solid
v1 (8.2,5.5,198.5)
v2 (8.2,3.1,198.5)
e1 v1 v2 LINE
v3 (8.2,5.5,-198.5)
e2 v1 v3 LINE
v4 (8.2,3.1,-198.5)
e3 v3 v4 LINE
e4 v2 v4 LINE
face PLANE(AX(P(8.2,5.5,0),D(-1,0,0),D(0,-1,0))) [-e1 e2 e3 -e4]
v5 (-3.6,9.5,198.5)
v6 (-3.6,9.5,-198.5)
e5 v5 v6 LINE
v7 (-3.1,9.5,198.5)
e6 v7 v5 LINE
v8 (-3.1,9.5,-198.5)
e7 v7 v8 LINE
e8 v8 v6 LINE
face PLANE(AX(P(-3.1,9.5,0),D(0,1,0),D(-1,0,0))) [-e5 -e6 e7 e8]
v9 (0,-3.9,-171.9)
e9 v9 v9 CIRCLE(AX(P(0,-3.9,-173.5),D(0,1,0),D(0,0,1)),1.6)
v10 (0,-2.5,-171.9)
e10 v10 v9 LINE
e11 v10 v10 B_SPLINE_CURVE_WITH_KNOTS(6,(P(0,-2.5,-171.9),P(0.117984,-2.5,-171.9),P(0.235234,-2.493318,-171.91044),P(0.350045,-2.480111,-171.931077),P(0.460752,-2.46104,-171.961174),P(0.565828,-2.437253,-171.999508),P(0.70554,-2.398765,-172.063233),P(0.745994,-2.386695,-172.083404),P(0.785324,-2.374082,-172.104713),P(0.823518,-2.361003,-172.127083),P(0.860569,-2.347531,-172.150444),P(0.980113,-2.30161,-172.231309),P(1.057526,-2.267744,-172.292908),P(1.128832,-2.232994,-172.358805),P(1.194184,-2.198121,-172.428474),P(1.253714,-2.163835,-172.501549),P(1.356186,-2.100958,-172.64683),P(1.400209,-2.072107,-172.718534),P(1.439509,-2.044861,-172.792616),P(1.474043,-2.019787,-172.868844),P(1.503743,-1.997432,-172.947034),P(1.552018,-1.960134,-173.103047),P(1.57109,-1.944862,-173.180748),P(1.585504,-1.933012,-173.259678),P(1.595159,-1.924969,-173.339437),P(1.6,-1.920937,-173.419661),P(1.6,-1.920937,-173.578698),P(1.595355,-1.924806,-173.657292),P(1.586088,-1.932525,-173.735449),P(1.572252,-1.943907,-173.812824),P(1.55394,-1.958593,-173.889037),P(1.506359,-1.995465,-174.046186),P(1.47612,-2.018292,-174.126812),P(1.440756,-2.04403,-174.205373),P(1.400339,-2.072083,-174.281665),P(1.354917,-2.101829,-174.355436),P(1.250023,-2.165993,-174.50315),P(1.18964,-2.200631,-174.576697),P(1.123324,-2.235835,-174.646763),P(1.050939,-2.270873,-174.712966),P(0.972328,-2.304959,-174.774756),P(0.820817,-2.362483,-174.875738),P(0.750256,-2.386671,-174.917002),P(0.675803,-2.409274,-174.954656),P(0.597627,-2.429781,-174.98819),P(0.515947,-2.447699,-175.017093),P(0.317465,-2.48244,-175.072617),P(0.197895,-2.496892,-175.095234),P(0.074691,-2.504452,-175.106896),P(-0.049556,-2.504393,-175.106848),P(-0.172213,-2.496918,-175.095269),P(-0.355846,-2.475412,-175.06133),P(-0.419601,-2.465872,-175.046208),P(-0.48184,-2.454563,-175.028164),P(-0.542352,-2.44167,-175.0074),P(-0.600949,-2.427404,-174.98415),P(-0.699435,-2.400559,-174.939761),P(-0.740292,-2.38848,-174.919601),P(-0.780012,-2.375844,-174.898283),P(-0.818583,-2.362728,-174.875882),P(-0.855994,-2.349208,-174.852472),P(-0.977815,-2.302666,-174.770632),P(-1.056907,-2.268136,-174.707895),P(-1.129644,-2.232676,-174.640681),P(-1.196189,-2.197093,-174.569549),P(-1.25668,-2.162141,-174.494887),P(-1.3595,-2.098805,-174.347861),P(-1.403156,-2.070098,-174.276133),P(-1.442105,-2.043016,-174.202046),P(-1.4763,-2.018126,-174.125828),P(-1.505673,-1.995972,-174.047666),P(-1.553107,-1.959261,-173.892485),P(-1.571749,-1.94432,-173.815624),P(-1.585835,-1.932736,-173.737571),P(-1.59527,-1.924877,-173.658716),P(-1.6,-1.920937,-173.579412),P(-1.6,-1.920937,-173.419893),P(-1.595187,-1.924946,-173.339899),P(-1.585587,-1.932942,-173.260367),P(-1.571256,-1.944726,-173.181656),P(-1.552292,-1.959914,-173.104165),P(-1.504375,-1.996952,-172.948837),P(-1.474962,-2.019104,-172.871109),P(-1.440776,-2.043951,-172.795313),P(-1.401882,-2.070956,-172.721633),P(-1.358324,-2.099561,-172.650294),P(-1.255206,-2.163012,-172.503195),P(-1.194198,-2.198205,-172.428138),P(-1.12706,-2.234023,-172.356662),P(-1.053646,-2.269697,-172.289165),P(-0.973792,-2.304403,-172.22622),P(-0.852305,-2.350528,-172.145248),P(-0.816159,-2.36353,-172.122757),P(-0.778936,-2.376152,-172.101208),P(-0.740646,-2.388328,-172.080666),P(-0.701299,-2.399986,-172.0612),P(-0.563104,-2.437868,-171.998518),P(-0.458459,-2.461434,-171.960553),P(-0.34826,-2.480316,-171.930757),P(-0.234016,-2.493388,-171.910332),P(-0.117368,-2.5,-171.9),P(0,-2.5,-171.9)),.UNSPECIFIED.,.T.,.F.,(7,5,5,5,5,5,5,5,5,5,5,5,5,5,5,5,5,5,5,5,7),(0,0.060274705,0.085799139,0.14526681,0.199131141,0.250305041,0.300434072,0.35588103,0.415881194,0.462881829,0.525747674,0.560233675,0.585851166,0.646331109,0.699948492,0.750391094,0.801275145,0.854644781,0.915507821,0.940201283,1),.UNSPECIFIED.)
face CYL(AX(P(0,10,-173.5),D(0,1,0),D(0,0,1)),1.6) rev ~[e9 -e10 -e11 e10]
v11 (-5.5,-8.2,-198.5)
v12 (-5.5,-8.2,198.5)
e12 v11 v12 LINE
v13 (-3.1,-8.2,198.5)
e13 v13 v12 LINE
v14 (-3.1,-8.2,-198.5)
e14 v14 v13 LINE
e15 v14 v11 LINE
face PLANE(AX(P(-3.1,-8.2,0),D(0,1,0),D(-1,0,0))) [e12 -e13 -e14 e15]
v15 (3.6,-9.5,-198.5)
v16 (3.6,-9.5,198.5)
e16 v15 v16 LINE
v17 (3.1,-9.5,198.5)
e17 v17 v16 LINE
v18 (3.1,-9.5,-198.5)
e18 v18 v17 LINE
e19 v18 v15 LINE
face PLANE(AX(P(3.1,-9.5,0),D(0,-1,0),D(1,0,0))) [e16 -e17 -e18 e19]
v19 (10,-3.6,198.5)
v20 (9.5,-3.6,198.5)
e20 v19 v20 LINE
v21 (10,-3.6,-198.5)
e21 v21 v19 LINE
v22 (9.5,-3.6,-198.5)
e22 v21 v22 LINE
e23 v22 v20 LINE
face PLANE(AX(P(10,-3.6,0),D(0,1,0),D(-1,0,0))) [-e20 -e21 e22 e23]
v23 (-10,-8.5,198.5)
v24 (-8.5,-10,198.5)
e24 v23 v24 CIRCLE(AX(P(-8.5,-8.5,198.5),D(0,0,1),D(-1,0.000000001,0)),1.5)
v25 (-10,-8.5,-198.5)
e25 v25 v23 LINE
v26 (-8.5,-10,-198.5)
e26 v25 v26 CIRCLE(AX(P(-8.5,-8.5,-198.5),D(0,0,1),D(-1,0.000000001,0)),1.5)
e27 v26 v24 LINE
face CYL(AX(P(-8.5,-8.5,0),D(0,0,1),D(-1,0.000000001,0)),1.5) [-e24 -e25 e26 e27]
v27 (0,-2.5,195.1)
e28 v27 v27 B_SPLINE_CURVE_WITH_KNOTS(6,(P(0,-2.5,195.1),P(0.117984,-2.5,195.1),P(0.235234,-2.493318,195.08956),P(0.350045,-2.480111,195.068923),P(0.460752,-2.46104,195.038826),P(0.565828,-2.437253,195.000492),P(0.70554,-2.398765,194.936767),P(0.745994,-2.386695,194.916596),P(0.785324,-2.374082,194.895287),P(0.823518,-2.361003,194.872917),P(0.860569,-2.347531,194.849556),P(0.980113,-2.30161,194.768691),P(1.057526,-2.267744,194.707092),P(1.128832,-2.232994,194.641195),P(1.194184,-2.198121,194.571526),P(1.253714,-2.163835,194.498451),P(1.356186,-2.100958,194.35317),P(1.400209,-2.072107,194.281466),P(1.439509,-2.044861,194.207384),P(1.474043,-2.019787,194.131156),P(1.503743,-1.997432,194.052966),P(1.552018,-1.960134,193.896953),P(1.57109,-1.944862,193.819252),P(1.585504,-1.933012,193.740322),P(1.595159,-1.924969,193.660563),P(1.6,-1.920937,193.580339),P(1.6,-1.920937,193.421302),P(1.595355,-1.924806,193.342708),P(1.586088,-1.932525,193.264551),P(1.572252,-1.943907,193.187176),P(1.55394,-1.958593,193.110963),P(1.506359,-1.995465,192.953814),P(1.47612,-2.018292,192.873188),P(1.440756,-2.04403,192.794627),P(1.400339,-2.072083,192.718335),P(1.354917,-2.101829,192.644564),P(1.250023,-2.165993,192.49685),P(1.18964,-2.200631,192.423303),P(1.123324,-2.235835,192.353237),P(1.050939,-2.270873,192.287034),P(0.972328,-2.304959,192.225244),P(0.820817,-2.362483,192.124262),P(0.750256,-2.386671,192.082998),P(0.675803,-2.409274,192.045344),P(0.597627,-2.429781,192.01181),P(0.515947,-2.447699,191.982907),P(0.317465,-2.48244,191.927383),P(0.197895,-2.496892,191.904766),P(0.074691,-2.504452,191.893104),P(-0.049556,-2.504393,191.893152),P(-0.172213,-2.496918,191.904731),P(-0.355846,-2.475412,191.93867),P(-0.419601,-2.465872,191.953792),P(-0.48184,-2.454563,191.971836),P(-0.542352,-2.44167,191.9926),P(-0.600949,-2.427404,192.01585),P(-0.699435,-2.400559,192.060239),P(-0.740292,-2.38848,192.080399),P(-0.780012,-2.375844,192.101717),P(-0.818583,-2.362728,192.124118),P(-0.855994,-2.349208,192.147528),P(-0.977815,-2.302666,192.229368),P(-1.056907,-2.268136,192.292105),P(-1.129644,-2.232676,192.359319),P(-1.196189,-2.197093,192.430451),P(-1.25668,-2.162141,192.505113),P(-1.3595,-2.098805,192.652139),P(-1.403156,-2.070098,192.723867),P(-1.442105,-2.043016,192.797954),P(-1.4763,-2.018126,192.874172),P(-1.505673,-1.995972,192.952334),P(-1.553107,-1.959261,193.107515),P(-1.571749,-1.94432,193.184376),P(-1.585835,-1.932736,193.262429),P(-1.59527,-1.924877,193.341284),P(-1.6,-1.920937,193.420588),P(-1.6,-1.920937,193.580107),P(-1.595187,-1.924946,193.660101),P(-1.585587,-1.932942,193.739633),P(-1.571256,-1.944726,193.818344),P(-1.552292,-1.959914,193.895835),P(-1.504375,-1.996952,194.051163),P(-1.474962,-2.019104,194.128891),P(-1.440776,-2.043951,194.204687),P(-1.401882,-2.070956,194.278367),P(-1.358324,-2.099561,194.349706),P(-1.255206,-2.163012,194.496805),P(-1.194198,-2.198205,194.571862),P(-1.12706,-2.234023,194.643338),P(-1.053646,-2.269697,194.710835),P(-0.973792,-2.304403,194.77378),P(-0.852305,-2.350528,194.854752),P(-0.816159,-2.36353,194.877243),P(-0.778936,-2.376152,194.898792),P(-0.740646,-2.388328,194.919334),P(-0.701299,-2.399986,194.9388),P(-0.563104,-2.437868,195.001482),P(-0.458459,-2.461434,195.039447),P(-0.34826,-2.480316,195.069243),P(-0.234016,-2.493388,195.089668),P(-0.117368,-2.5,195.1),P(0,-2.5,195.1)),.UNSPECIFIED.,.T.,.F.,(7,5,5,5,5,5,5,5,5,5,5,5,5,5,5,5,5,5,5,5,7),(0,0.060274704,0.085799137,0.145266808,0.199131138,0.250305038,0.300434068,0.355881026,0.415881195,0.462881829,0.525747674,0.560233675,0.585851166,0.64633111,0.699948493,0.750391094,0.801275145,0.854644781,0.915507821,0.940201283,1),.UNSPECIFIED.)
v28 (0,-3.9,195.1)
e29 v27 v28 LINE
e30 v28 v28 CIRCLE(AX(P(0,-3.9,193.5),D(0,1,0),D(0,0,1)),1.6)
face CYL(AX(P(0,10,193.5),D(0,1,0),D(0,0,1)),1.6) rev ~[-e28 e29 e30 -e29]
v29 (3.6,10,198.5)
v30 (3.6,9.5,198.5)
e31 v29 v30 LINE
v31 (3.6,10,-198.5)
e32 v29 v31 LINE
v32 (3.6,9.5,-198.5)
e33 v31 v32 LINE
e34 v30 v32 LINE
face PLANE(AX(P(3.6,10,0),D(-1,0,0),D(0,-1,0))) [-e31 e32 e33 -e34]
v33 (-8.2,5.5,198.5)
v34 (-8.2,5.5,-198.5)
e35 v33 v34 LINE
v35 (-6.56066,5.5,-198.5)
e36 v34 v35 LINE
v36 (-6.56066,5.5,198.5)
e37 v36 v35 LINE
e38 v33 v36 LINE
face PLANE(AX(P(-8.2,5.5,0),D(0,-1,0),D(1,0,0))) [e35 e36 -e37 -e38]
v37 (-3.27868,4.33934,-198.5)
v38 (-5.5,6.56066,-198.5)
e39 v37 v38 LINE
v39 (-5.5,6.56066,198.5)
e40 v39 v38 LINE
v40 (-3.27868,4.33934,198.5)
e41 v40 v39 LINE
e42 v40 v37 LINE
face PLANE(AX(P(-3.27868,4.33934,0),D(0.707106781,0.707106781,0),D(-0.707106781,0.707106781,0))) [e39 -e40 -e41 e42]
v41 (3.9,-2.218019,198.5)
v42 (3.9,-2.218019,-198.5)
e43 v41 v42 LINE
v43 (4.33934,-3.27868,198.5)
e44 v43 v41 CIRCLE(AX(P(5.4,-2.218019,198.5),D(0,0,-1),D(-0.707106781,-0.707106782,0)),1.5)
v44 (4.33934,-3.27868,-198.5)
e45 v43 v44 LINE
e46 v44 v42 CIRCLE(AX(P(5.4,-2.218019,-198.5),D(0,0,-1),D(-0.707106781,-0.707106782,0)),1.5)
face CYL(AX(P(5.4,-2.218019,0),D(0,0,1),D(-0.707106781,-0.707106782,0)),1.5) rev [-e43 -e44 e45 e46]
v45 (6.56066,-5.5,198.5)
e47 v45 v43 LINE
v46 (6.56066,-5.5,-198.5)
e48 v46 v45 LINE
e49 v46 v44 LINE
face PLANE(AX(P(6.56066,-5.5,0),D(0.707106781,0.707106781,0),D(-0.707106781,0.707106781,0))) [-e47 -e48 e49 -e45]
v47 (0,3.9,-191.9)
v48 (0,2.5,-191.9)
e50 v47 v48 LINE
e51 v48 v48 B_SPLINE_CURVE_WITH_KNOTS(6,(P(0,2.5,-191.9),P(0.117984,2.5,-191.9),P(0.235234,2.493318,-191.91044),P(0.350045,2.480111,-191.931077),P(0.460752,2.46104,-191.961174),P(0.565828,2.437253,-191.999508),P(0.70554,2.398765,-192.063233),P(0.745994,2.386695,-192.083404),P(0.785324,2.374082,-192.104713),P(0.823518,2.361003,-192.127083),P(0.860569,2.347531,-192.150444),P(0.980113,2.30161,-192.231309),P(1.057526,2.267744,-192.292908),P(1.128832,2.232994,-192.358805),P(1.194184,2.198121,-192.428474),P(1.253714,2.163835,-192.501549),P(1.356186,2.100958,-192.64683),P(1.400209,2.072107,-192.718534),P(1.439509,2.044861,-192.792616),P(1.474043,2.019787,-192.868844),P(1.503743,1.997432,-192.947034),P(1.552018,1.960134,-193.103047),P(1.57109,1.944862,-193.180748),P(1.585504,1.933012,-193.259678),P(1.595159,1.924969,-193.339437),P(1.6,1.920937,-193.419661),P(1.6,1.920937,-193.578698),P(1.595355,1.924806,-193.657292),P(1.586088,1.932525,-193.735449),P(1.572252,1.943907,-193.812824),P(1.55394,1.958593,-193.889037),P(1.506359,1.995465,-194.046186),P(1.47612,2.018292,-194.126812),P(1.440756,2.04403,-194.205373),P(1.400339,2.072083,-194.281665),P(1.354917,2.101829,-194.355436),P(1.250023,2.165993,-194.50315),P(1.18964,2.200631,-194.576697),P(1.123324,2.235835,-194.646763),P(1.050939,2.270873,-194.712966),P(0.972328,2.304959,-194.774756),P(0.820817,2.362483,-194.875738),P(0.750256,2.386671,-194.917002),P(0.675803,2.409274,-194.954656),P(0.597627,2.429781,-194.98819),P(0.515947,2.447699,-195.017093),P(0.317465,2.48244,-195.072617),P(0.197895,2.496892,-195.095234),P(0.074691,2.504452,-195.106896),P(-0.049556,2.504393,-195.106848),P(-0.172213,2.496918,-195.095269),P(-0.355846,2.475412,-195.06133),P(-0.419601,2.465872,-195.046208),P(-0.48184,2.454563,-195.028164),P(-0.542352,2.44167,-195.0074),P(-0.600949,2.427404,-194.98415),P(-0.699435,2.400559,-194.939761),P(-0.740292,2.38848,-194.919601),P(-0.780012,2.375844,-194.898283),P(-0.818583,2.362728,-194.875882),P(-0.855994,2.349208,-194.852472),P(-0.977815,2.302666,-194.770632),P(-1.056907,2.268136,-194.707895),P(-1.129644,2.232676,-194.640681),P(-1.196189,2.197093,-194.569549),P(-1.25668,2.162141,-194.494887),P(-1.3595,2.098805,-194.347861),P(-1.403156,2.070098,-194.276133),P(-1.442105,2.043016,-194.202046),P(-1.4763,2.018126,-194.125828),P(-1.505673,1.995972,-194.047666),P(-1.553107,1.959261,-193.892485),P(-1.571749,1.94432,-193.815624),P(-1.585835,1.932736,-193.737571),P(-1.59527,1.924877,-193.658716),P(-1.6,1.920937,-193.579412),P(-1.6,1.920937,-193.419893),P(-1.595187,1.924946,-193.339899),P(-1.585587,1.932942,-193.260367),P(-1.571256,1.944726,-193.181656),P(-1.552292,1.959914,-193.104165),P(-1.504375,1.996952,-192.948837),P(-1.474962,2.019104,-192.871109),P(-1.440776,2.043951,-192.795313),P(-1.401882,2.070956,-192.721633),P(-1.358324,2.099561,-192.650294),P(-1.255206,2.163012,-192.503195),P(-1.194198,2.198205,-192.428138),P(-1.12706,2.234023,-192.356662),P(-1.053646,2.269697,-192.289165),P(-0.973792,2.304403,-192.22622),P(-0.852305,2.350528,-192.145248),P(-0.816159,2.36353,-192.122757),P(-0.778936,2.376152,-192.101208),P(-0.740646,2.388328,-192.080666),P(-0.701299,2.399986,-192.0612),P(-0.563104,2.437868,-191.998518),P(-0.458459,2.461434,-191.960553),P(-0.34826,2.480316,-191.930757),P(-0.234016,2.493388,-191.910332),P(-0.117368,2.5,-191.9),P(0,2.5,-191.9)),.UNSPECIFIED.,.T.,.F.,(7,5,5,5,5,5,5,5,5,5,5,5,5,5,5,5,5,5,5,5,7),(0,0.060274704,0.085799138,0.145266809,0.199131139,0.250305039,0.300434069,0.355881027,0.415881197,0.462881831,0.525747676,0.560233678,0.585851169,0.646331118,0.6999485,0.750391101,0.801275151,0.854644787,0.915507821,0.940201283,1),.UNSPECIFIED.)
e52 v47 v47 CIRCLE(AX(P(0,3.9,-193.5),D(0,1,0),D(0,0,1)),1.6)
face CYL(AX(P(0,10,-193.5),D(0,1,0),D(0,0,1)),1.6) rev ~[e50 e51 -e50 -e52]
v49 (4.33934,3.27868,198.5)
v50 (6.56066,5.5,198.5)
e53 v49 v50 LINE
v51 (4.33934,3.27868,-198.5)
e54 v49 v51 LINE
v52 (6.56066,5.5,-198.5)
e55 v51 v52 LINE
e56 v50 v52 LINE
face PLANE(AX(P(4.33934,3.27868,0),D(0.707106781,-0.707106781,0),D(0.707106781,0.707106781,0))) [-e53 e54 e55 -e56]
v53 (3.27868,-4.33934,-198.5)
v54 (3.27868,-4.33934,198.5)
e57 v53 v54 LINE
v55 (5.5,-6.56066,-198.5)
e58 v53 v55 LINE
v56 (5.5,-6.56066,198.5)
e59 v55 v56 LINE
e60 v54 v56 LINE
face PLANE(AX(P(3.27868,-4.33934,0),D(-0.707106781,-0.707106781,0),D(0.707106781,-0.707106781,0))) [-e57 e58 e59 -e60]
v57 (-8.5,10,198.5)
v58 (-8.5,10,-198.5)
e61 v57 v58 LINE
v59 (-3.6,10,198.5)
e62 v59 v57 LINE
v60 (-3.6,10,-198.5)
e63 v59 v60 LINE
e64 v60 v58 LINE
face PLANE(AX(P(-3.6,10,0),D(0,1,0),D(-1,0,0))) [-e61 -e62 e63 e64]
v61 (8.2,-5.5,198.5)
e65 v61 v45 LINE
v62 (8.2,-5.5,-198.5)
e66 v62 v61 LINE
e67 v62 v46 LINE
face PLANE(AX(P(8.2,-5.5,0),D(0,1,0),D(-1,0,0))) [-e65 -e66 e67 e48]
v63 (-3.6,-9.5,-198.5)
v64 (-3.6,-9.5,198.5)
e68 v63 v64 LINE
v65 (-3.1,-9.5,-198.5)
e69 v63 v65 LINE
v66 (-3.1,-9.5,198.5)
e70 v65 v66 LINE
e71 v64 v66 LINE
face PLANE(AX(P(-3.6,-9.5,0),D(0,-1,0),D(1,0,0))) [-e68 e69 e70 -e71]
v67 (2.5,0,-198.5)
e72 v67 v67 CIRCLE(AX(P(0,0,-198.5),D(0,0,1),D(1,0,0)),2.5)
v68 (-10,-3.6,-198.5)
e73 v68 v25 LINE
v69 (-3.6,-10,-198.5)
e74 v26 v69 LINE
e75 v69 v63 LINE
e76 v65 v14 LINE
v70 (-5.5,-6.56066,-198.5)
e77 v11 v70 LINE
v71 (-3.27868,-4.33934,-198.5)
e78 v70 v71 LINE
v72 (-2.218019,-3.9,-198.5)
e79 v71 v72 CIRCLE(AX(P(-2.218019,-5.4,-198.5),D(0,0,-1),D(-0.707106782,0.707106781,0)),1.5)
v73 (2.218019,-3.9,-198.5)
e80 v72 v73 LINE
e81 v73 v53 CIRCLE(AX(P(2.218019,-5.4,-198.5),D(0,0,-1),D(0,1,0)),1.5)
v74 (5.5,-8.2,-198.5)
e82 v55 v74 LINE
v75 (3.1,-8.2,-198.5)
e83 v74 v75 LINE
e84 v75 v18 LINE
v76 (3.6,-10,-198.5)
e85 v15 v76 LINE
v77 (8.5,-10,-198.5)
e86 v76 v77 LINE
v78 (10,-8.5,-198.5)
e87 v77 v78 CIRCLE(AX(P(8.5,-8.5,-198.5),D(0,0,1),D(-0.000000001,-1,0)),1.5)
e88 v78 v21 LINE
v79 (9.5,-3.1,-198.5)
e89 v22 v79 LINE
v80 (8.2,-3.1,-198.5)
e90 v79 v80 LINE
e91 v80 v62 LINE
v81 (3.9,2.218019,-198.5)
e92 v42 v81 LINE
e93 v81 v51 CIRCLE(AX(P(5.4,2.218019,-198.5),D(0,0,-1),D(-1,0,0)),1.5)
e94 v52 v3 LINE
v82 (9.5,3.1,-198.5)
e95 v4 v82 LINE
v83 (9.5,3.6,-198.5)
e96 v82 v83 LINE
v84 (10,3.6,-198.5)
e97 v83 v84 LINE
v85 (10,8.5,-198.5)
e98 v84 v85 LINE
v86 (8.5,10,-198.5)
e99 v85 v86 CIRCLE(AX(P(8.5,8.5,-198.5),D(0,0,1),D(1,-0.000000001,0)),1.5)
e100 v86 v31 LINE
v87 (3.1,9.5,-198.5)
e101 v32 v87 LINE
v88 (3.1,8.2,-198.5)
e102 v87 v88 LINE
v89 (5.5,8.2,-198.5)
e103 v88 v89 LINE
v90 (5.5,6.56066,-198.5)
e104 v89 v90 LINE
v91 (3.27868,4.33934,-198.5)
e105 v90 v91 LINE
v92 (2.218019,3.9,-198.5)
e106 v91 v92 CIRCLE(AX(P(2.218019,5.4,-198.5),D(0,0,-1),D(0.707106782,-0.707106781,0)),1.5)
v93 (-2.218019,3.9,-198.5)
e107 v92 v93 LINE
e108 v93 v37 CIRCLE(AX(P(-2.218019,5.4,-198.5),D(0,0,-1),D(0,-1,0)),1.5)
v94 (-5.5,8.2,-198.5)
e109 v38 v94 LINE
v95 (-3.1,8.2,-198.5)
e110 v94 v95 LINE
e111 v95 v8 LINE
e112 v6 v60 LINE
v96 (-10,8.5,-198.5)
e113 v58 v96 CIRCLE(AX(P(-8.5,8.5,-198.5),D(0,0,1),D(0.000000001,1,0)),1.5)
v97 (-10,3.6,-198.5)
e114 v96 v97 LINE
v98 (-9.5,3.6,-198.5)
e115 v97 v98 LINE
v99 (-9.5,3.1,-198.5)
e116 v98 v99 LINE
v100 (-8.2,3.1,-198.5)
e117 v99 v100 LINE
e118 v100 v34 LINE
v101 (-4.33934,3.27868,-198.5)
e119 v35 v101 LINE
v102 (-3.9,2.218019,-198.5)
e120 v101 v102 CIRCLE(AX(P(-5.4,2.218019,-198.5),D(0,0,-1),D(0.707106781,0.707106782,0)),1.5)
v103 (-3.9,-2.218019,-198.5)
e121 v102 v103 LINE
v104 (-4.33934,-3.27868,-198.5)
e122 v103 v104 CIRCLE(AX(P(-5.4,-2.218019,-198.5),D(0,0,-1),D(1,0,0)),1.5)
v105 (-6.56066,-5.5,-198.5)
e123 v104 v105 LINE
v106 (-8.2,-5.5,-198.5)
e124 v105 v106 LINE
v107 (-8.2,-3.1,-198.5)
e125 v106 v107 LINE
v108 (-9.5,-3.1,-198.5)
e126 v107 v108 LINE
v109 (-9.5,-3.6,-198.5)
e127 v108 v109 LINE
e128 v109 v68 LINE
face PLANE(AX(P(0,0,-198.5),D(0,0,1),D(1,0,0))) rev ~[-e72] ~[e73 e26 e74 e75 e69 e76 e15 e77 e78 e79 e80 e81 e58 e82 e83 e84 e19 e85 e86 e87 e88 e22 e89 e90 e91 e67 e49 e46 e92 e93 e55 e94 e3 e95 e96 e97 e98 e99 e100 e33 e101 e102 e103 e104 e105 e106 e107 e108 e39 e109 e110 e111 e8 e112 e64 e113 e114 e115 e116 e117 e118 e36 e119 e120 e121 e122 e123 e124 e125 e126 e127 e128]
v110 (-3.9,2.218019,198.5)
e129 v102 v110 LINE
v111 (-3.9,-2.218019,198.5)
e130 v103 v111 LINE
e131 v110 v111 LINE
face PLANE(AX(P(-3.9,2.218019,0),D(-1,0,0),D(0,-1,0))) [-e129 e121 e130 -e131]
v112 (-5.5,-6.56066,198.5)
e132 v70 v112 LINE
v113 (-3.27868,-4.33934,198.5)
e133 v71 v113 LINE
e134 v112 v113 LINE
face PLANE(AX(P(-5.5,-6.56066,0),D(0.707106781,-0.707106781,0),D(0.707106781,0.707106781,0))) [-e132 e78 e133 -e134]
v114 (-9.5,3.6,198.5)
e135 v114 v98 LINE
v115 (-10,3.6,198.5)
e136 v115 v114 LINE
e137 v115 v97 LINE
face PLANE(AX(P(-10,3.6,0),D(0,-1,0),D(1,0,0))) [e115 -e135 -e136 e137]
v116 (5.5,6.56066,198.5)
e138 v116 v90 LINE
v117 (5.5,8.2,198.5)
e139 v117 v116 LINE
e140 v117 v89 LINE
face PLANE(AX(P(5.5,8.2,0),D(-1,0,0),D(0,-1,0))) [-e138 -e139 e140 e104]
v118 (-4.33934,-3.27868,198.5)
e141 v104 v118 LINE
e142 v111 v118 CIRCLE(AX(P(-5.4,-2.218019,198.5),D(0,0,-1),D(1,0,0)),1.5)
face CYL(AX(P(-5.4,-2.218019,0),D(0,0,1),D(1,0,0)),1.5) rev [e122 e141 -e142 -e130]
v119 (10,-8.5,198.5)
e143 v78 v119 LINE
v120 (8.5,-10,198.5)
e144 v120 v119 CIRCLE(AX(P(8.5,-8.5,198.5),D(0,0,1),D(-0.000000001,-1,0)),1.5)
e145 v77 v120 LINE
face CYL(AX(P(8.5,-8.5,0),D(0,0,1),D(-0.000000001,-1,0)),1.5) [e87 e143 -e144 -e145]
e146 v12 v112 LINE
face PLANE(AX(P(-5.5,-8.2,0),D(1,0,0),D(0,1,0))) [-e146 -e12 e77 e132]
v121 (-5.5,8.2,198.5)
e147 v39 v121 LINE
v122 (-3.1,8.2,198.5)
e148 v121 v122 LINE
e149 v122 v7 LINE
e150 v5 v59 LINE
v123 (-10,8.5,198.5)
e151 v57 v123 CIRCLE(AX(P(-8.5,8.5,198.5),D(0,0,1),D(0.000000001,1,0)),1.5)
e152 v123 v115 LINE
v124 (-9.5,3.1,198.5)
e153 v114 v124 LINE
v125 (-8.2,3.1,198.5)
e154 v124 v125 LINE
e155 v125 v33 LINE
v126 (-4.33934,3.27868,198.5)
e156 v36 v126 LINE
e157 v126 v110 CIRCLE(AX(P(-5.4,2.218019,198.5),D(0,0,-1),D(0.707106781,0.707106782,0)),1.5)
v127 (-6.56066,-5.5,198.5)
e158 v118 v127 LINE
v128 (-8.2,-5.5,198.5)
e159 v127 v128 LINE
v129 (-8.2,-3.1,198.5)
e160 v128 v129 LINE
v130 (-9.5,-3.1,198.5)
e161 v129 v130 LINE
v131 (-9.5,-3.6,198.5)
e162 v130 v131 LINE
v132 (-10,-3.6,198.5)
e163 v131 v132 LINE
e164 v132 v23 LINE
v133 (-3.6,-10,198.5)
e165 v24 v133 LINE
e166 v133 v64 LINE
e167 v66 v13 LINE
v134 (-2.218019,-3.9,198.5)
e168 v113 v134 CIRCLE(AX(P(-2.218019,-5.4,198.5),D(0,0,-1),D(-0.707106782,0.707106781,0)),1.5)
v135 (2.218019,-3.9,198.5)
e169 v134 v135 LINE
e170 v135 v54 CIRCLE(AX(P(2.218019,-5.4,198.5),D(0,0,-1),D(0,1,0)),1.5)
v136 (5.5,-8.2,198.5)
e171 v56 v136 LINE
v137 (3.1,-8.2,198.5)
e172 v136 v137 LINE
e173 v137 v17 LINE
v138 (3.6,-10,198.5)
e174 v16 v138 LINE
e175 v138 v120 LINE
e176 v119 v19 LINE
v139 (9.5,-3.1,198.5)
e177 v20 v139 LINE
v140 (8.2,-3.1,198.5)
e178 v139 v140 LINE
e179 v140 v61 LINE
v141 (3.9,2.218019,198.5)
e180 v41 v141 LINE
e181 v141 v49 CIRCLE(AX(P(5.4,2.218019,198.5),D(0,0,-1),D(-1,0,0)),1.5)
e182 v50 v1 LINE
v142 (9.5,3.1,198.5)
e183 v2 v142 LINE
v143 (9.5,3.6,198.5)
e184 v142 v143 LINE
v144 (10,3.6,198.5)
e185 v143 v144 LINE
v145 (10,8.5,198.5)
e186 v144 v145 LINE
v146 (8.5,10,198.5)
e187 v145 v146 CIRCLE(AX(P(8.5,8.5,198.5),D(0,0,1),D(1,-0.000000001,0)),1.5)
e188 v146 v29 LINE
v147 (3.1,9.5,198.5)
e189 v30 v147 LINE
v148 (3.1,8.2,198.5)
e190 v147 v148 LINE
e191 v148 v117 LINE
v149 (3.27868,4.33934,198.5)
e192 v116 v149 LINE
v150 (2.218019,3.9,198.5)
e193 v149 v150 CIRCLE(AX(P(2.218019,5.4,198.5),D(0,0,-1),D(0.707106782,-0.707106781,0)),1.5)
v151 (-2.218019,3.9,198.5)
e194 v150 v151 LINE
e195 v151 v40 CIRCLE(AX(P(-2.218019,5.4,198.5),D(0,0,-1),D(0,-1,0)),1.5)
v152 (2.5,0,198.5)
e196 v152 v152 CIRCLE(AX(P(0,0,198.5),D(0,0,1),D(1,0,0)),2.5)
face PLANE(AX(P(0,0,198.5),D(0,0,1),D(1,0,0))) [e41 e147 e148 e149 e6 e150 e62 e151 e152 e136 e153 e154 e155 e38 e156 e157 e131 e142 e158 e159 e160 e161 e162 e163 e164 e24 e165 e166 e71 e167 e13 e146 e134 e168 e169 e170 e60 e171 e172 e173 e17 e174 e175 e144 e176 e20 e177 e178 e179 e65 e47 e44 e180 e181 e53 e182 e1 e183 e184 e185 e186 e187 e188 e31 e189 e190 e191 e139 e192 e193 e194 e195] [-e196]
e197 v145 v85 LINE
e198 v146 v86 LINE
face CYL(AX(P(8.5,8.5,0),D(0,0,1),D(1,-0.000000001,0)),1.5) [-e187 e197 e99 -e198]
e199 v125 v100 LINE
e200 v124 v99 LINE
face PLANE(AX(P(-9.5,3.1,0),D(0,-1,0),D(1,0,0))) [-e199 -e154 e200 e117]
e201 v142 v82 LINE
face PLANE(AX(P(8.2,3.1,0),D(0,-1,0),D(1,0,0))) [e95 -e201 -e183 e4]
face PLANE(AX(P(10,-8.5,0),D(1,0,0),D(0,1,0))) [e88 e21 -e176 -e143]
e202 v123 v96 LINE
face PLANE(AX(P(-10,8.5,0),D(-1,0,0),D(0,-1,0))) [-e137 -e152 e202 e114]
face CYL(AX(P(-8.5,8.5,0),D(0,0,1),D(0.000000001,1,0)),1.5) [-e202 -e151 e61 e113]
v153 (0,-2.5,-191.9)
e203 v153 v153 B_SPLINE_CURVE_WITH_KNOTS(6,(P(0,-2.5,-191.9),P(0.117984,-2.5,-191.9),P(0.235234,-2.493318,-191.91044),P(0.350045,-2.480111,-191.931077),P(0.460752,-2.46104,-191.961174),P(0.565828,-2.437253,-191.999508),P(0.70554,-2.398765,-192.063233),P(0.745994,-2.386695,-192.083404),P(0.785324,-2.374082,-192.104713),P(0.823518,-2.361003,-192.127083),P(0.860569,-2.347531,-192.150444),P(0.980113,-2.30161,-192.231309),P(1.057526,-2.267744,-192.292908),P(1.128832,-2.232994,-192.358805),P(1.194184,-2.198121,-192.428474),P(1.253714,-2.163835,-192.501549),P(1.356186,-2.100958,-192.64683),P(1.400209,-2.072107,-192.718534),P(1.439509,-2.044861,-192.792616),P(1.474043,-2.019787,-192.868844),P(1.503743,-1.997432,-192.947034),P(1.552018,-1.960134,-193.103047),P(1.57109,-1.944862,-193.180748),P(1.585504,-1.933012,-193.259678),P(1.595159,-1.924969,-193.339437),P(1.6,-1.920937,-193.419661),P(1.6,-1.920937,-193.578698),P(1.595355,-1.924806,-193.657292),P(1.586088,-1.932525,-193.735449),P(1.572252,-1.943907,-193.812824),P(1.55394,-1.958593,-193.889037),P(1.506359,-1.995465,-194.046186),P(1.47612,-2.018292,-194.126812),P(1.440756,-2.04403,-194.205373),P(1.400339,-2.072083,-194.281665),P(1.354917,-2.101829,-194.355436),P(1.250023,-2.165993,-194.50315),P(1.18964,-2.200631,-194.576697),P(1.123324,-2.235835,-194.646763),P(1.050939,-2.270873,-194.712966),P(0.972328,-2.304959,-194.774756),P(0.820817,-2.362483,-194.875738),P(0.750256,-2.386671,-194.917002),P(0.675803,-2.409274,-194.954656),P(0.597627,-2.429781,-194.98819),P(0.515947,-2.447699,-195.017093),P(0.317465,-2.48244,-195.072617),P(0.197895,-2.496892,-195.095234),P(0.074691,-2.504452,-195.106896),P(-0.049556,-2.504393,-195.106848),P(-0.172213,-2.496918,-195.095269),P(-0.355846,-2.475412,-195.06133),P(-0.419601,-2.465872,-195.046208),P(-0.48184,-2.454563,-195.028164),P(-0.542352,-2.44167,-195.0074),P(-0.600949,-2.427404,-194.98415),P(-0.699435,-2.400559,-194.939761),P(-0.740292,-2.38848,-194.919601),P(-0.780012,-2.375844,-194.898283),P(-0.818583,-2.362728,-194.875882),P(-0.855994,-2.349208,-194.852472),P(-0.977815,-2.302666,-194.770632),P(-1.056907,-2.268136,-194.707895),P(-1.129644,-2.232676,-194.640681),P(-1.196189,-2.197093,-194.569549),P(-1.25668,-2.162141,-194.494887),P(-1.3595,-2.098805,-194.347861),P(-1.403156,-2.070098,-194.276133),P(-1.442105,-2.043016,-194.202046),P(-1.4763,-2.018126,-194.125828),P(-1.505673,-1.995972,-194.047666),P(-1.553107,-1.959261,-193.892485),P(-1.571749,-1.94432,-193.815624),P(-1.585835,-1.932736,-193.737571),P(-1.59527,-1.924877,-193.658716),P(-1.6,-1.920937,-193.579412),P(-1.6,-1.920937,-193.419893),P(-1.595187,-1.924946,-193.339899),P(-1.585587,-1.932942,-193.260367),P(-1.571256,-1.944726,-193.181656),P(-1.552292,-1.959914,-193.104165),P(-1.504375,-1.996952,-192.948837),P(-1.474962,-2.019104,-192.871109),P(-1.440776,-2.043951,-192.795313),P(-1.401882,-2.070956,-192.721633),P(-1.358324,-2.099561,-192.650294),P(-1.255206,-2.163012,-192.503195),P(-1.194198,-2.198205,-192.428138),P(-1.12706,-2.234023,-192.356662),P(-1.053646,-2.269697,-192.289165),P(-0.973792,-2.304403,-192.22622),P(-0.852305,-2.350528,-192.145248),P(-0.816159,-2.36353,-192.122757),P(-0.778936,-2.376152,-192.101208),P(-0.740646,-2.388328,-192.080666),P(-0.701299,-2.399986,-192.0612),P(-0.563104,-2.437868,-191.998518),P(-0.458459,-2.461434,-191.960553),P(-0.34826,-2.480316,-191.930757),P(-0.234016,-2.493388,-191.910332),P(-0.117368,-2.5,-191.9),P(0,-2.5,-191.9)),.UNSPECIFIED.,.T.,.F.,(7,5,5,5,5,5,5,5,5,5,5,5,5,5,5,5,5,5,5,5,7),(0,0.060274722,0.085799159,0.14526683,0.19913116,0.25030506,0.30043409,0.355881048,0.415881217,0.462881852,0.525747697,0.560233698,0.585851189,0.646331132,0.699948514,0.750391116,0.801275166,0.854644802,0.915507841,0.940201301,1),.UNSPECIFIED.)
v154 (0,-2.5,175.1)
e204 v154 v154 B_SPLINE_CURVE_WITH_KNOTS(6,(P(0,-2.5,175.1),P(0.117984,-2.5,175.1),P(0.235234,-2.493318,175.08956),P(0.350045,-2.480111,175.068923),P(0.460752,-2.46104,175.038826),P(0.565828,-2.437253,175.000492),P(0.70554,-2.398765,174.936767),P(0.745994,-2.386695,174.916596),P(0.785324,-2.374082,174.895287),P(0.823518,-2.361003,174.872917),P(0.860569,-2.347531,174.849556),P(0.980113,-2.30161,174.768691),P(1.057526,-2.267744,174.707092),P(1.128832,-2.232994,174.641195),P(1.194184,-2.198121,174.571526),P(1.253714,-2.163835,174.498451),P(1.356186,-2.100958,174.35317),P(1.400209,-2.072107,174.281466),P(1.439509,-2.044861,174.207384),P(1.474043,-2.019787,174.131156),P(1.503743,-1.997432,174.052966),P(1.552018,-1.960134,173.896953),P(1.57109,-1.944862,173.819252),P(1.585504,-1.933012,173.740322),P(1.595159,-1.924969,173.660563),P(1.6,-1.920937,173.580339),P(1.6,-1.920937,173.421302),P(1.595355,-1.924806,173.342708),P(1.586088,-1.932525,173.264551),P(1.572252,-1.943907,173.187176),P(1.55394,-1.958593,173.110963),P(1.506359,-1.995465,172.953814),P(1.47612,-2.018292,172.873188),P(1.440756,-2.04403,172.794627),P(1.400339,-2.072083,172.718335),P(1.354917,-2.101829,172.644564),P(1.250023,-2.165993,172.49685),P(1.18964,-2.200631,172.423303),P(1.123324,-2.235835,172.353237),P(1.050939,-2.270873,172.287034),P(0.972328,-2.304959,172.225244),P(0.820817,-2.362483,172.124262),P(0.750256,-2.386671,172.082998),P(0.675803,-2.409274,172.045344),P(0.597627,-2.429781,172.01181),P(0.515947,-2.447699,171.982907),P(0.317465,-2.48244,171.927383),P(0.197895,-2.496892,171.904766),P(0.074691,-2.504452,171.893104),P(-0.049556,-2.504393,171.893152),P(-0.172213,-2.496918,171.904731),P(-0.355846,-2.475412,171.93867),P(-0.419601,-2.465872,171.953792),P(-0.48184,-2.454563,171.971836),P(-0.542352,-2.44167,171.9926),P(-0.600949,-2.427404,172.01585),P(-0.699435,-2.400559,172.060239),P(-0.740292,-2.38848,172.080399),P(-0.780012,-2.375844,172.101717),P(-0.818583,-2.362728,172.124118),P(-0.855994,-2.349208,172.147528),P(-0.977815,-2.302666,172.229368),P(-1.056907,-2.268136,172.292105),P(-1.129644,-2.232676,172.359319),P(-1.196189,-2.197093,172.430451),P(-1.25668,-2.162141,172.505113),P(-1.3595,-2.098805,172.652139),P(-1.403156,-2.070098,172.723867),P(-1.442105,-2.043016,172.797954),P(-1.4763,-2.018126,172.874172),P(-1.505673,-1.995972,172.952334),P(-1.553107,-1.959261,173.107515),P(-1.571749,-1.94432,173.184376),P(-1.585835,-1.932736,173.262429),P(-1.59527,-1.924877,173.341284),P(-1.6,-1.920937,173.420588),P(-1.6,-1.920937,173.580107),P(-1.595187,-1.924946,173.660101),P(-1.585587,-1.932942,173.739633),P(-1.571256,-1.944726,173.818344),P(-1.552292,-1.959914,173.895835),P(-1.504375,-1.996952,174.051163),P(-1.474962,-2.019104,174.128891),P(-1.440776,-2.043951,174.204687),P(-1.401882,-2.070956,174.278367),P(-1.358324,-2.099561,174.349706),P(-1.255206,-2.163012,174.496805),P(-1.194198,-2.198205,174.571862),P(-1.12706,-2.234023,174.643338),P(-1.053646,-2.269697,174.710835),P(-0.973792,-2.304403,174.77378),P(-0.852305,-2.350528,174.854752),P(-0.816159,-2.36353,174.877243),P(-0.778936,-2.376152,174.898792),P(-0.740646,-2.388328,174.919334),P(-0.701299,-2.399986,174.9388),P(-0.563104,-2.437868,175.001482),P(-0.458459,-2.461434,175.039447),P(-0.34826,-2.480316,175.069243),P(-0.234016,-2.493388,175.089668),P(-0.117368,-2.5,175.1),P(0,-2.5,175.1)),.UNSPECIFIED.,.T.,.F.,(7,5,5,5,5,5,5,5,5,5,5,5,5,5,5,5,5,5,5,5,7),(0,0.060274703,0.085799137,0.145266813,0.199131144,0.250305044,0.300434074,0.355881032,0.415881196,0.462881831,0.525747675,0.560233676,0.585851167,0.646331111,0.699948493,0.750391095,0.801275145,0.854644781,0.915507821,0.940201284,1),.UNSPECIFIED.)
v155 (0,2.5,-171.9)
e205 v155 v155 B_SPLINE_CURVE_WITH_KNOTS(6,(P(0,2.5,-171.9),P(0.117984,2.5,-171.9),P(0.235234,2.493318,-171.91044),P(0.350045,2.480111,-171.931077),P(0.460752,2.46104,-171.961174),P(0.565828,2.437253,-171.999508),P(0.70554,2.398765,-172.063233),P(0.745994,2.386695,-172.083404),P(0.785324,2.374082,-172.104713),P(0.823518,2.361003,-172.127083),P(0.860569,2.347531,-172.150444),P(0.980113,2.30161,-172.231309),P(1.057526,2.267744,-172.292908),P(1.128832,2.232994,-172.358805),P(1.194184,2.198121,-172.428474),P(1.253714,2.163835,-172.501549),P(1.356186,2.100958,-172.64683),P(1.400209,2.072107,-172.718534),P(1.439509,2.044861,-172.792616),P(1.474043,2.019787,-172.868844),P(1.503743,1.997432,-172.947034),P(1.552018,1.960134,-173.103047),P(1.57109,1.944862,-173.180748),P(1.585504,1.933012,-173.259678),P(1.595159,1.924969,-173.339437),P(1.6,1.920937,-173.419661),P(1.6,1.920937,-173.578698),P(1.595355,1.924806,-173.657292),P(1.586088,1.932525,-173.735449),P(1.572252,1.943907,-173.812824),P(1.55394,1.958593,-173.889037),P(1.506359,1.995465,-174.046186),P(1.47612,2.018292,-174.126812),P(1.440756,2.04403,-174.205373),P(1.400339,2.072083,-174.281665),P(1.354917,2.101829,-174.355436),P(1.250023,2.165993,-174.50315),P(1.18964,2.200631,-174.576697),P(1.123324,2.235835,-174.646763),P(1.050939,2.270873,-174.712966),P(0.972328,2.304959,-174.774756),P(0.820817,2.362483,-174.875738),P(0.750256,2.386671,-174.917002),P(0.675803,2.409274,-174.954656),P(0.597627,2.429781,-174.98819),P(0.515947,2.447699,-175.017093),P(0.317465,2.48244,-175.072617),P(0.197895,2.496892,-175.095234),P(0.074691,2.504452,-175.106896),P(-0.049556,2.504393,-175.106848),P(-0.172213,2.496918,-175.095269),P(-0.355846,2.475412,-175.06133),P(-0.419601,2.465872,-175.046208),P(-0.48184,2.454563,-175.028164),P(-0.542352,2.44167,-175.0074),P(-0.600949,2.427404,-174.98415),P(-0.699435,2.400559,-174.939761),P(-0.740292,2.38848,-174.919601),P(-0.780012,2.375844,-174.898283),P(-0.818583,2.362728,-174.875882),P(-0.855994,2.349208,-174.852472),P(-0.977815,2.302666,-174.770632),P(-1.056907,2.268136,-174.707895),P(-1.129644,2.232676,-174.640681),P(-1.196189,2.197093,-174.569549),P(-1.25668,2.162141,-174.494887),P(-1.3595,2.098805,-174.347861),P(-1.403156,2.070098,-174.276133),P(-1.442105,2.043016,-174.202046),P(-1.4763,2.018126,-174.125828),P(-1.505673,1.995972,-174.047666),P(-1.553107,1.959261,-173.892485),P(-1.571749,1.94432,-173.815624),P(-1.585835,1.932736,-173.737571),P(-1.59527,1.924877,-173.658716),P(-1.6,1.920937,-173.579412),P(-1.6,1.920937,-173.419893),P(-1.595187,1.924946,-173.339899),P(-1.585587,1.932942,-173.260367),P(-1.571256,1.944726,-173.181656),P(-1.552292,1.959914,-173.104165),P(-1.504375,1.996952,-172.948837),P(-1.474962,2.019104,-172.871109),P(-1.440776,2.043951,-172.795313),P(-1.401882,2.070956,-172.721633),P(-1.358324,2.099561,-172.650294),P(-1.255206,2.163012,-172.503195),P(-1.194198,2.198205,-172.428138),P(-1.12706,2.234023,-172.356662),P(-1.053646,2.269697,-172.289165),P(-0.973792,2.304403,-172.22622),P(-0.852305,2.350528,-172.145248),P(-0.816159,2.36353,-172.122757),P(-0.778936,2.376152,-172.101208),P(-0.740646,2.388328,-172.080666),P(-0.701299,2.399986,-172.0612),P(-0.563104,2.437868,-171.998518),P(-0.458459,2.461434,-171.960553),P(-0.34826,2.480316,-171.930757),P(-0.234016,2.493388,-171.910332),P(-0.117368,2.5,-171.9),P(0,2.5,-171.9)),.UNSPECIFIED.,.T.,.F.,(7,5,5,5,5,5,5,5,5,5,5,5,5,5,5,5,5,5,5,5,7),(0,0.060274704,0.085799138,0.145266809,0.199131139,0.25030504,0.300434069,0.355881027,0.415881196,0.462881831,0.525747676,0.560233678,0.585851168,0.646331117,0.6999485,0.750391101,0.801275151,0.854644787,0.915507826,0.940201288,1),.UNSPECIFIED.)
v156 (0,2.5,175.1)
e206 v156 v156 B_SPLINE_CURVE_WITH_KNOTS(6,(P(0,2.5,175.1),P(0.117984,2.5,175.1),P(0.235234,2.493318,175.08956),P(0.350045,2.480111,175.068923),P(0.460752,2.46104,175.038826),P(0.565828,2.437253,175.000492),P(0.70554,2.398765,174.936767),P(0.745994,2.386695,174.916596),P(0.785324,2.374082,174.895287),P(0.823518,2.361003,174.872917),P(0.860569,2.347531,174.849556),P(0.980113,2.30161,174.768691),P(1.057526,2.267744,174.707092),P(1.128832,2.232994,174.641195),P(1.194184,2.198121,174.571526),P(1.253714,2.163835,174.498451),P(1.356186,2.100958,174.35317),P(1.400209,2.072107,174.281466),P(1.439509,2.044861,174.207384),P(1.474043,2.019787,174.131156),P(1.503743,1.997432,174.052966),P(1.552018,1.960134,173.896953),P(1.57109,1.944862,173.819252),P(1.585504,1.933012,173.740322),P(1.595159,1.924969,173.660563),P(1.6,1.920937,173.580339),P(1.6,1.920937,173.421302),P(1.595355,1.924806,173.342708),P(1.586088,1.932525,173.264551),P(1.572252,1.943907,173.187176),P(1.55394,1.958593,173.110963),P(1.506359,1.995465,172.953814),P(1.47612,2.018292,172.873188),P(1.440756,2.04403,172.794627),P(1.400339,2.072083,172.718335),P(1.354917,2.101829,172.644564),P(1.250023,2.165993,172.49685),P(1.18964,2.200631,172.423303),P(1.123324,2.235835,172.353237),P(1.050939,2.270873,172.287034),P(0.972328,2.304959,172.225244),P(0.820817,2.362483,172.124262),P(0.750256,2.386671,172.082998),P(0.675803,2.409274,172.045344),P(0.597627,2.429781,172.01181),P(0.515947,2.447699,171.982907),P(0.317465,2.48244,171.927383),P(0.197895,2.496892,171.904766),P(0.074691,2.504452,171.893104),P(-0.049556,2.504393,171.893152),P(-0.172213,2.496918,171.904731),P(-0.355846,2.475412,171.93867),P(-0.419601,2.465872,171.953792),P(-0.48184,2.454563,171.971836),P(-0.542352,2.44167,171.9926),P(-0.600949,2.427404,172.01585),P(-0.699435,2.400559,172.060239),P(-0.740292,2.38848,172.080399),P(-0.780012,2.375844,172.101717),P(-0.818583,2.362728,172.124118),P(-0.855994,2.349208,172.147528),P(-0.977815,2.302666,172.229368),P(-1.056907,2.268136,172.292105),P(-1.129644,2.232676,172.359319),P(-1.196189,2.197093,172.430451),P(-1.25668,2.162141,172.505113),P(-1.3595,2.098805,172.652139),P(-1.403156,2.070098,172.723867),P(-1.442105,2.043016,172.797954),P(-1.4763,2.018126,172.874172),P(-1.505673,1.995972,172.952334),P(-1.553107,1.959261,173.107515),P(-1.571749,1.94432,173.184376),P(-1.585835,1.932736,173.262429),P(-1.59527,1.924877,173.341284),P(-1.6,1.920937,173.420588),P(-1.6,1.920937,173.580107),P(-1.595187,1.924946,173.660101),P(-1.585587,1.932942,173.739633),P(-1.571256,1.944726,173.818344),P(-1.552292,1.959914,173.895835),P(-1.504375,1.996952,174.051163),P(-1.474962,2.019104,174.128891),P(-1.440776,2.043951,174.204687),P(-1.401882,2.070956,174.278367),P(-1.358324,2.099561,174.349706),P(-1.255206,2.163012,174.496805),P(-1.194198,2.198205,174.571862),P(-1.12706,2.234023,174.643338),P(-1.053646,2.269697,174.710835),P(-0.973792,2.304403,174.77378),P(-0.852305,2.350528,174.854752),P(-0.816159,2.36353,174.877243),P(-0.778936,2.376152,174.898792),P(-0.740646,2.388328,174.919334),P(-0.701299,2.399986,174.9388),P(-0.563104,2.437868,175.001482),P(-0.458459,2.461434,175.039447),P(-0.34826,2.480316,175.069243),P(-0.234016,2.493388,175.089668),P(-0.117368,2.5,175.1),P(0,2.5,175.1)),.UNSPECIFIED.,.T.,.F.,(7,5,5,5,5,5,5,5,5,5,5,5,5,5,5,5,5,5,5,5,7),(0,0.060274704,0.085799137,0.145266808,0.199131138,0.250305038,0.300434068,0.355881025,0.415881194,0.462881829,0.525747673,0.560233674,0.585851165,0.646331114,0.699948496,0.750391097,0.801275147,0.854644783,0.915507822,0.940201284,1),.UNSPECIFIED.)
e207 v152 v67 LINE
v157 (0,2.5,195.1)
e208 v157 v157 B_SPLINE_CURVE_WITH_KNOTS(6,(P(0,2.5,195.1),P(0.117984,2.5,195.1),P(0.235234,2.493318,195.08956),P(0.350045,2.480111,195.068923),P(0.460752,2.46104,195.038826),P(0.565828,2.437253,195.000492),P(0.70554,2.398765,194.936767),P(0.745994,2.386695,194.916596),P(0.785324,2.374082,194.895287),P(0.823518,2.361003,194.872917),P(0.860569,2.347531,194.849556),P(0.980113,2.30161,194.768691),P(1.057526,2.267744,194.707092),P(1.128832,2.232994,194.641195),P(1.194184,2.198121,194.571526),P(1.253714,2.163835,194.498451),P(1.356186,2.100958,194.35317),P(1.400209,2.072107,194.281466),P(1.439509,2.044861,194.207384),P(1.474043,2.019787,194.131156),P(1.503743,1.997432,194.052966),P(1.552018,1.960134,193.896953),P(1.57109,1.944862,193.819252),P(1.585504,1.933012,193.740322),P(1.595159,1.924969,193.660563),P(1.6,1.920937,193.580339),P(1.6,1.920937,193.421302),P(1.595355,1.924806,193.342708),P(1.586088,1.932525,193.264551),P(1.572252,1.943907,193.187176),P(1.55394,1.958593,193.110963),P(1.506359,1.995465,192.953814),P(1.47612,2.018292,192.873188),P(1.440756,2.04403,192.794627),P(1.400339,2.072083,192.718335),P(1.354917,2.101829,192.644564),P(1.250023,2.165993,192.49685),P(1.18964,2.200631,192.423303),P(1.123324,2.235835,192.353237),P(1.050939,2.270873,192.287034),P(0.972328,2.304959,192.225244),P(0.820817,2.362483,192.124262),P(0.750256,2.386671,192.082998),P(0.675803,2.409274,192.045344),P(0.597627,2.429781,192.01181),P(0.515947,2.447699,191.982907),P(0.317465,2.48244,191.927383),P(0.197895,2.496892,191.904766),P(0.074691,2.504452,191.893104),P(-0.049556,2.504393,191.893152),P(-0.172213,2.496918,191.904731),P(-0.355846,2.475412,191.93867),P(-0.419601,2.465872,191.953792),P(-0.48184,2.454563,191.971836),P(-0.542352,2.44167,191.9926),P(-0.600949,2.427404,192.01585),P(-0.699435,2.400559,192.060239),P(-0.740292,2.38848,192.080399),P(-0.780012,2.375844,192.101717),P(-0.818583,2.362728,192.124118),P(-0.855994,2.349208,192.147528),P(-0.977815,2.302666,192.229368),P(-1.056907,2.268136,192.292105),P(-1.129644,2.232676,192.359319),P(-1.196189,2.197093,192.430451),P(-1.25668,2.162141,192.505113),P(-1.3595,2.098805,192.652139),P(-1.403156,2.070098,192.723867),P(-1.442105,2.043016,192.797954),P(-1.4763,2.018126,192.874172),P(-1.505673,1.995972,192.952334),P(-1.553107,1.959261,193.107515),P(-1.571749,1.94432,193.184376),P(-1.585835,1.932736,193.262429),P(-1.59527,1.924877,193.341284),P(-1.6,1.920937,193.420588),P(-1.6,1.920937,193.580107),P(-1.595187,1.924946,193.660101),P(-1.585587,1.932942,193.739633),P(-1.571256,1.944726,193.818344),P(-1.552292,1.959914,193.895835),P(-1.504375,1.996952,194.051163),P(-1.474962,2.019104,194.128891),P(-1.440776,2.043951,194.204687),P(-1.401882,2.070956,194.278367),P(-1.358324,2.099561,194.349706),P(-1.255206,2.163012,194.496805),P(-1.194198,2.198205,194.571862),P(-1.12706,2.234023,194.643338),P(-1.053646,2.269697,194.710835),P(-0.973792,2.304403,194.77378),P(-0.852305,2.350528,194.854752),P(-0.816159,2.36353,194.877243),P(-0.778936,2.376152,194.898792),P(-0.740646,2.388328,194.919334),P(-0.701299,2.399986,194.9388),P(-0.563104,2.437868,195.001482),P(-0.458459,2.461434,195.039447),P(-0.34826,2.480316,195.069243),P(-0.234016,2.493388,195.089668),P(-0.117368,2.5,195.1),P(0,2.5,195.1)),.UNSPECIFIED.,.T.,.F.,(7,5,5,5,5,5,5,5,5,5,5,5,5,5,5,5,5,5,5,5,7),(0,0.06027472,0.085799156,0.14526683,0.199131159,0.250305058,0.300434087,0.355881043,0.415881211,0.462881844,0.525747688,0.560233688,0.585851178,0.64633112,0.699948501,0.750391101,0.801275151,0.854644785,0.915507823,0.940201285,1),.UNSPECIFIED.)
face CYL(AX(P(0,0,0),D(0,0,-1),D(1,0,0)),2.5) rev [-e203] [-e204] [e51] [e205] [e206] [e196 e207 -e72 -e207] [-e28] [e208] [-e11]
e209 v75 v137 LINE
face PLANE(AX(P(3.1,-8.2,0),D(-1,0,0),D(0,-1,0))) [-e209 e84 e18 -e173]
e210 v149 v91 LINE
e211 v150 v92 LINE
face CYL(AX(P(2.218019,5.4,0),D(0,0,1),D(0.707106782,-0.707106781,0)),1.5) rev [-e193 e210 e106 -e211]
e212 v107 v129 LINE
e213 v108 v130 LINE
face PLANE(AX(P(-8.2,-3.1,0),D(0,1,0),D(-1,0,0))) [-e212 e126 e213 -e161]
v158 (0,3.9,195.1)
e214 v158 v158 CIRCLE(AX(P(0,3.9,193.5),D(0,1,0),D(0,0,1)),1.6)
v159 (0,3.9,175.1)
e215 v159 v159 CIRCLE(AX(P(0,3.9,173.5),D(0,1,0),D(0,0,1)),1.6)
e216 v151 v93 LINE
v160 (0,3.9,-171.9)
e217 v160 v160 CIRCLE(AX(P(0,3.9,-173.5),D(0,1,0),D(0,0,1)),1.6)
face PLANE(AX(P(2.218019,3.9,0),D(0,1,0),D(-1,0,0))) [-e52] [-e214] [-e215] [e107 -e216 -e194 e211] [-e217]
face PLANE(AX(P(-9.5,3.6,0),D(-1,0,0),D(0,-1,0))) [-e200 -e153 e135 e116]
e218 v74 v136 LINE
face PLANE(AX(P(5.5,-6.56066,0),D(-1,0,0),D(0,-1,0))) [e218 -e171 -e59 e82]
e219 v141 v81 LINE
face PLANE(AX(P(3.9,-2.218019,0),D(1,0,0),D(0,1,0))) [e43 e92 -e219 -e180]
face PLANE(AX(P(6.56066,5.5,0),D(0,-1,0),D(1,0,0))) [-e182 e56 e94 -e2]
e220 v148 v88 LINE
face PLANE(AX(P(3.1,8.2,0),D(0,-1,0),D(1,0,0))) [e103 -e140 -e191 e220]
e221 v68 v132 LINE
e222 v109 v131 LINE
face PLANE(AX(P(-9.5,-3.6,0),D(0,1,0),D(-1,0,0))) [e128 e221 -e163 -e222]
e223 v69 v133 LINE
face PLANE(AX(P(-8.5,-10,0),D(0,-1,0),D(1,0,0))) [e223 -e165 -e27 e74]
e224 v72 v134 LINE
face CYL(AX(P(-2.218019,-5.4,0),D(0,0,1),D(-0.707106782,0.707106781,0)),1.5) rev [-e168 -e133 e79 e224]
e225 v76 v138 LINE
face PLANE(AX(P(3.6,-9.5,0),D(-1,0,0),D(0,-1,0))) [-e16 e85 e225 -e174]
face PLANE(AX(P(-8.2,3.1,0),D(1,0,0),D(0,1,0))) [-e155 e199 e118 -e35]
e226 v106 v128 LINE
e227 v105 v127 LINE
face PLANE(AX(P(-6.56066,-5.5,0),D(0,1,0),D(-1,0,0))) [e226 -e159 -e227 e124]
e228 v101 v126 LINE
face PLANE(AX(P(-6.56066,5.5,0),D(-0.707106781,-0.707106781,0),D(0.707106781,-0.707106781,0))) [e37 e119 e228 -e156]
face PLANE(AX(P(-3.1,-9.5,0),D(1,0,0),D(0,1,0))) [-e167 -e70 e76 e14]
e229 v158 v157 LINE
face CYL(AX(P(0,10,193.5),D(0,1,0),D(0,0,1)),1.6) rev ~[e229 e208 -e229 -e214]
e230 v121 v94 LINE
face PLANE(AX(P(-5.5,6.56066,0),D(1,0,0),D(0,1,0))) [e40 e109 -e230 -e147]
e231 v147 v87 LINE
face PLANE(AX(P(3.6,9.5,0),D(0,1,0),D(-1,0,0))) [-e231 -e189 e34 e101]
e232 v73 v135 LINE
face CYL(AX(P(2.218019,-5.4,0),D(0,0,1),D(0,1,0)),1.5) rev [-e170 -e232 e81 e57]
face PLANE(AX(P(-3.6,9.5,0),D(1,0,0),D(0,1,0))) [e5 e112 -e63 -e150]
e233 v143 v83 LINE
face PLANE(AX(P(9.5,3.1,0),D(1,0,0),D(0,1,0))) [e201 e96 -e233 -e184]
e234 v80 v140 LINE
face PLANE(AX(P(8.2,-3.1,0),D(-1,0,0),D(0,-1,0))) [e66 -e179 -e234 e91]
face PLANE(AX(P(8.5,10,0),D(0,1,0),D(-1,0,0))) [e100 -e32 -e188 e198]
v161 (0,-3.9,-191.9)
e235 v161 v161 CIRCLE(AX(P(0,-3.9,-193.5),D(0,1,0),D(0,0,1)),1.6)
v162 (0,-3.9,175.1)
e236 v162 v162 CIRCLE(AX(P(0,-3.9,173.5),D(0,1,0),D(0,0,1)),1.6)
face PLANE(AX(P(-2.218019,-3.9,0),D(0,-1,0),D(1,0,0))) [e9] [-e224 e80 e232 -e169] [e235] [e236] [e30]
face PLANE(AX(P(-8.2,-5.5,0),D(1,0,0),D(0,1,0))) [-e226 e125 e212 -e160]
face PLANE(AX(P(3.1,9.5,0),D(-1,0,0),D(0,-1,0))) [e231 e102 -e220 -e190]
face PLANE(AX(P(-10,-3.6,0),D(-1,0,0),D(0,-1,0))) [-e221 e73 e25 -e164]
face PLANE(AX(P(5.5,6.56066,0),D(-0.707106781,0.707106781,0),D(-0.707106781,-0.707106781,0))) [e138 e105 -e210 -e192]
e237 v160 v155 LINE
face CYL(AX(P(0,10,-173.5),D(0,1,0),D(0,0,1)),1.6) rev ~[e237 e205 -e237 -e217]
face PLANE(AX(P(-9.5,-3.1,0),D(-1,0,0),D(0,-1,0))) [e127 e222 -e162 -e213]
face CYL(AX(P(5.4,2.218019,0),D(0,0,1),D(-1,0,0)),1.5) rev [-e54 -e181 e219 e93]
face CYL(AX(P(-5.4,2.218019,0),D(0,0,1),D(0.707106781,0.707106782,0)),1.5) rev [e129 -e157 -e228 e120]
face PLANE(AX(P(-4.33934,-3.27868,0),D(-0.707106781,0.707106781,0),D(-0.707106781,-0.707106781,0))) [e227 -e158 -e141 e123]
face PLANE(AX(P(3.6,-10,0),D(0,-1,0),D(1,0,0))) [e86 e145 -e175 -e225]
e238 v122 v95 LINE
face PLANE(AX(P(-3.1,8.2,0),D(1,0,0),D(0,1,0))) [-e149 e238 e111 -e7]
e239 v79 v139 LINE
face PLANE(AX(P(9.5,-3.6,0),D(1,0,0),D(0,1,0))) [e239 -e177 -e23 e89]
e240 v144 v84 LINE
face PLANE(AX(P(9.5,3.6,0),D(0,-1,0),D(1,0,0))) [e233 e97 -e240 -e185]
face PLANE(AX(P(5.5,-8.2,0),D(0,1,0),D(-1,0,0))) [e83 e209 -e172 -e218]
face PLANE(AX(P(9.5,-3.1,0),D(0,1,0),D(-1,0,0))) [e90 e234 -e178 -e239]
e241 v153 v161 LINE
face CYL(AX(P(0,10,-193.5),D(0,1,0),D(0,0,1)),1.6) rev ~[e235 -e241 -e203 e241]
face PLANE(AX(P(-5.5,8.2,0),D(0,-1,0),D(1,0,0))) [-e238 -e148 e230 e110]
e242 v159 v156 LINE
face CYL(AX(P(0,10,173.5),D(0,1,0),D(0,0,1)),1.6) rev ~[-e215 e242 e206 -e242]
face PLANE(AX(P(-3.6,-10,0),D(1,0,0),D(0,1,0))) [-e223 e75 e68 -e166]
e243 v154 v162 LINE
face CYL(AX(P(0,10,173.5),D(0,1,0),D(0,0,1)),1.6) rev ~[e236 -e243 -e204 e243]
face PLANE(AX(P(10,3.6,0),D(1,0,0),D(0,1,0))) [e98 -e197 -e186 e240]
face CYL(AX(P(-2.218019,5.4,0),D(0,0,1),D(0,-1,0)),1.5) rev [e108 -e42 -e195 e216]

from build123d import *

# Parameters (mm, degrees)
SKETCH_1_R          = 2.5
EXTRUDE_1_DEPTH     = 198.5
SKETCH_3_R          = 1.6
CUT_EXTRUDE_1_DEPTH = 200.755475519


with BuildPart() as part:
    # 草图1 → 凸台-拉伸1 (new, symmetric)
    with BuildSketch(Plane.XY):
        with BuildLine():
            Line((-6.560660172, 5.5), (-4.339339828, 3.278679656))
            ThreePointArc((-4.339339828, 3.278679656), (-4.014180701, 2.792044633), (-3.9, 2.218019485))
            Line((-3.9, 2.218019485), (-3.9, -2.218019485))
            ThreePointArc((-3.9, -2.218019485), (-4.014180701, -2.792044633), (-4.339339828, -3.278679656))
            Line((-4.339339828, -3.278679656), (-6.560660172, -5.5))
            Line((-6.560660172, -5.5), (-8.2, -5.5))
            Line((-8.2, -5.5), (-8.2, -3.1))
            Line((-8.2, -3.1), (-9.5, -3.1))
            Line((-9.5, -3.1), (-9.5, -3.6))
            Line((-9.5, -3.6), (-10, -3.6))
            Line((-10, -3.6), (-10, -8.5))
            ThreePointArc((-10, -8.5), (-9.560660172, -9.560660172), (-8.5, -10))
            Line((-8.5, -10), (-3.6, -10))
            Line((-3.6, -10), (-3.6, -9.5))
            Line((-3.6, -9.5), (-3.1, -9.5))
            Line((-3.1, -9.5), (-3.1, -8.2))
            Line((-3.1, -8.2), (-5.5, -8.2))
            Line((-5.5, -8.2), (-5.5, -6.560660172))
            Line((-5.5, -6.560660172), (-3.278679656, -4.339339828))
            ThreePointArc((-3.278679656, -4.339339828), (-2.792044633, -4.014180701), (-2.218019485, -3.9))
            Line((-2.218019485, -3.9), (2.218019485, -3.9))
            ThreePointArc((2.218019485, -3.9), (2.792044633, -4.014180701), (3.278679656, -4.339339828))
            Line((3.278679656, -4.339339828), (5.5, -6.560660172))
            Line((5.5, -6.560660172), (5.5, -8.2))
            Line((5.5, -8.2), (3.1, -8.2))
            Line((3.1, -8.2), (3.1, -9.5))
            Line((3.1, -9.5), (3.6, -9.5))
            Line((3.6, -9.5), (3.6, -10))
            Line((3.6, -10), (8.5, -10))
            ThreePointArc((8.5, -10), (9.560660172, -9.560660172), (10, -8.5))
            Line((10, -8.5), (10, -3.6))
            Line((10, -3.6), (9.5, -3.6))
            Line((9.5, -3.6), (9.5, -3.1))
            Line((9.5, -3.1), (8.2, -3.1))
            Line((8.2, -3.1), (8.2, -5.5))
            Line((8.2, -5.5), (6.560660172, -5.5))
            Line((6.560660172, -5.5), (4.339339828, -3.278679656))
            ThreePointArc((4.339339828, -3.278679656), (4.014180701, -2.792044633), (3.9, -2.218019485))
            Line((3.9, -2.218019485), (3.9, 2.218019485))
            ThreePointArc((3.9, 2.218019485), (4.014180701, 2.792044633), (4.339339828, 3.278679656))
            Line((4.339339828, 3.278679656), (6.560660172, 5.5))
            Line((6.560660172, 5.5), (8.2, 5.5))
            Line((8.2, 5.5), (8.2, 3.1))
            Line((8.2, 3.1), (9.5, 3.1))
            Line((9.5, 3.1), (9.5, 3.6))
            Line((9.5, 3.6), (10, 3.6))
            Line((10, 3.6), (10, 8.5))
            ThreePointArc((10, 8.5), (9.560660172, 9.560660172), (8.5, 10))
            Line((8.5, 10), (3.6, 10))
            Line((3.6, 10), (3.6, 9.5))
            Line((3.6, 9.5), (3.1, 9.5))
            Line((3.1, 9.5), (3.1, 8.2))
            Line((3.1, 8.2), (5.5, 8.2))
            Line((5.5, 8.2), (5.5, 6.560660172))
            Line((5.5, 6.560660172), (3.278679656, 4.339339828))
            ThreePointArc((3.278679656, 4.339339828), (2.792044633, 4.014180701), (2.218019485, 3.9))
            Line((2.218019485, 3.9), (-2.218019485, 3.9))
            ThreePointArc((-2.218019485, 3.9), (-2.792044633, 4.014180701), (-3.278679656, 4.339339828))
            Line((-3.278679656, 4.339339828), (-5.5, 6.560660172))
            Line((-5.5, 6.560660172), (-5.5, 8.2))
            Line((-5.5, 8.2), (-3.1, 8.2))
            Line((-3.1, 8.2), (-3.1, 9.5))
            Line((-3.1, 9.5), (-3.6, 9.5))
            Line((-3.6, 9.5), (-3.6, 10))
            Line((-3.6, 10), (-8.5, 10))
            ThreePointArc((-8.5, 10), (-9.560660172, 9.560660172), (-10, 8.5))
            Line((-10, 8.5), (-10, 3.6))
            Line((-10, 3.6), (-9.5, 3.6))
            Line((-9.5, 3.6), (-9.5, 3.1))
            Line((-9.5, 3.1), (-8.2, 3.1))
            Line((-8.2, 3.1), (-8.2, 5.5))
            Line((-8.2, 5.5), (-6.560660172, 5.5))
        make_face()
        Circle(SKETCH_1_R, mode=Mode.SUBTRACT)
    extrude(amount=EXTRUDE_1_DEPTH, both=True)

    # 草图3 → 切除-拉伸1 (cut, through all)
    with BuildSketch(Plane(origin=(0, 10, 0), x_dir=(1, 0, 0), z_dir=(0, 1, 0))):
        with Locations(Location((0, 193.5, 0), (0, 0, 270))):
            Circle(SKETCH_3_R)
        with Locations(Location((0, 173.5, 0), (0, 0, 270))):
            Circle(SKETCH_3_R)
        with Locations(Location((0, -193.5, 0), (0, 0, 270))):
            Circle(SKETCH_3_R)
        with Locations(Location((0, -173.5, 0), (0, 0, 270))):
            Circle(SKETCH_3_R)
    extrude(amount=-CUT_EXTRUDE_1_DEPTH, mode=Mode.SUBTRACT)


solid = part.part
